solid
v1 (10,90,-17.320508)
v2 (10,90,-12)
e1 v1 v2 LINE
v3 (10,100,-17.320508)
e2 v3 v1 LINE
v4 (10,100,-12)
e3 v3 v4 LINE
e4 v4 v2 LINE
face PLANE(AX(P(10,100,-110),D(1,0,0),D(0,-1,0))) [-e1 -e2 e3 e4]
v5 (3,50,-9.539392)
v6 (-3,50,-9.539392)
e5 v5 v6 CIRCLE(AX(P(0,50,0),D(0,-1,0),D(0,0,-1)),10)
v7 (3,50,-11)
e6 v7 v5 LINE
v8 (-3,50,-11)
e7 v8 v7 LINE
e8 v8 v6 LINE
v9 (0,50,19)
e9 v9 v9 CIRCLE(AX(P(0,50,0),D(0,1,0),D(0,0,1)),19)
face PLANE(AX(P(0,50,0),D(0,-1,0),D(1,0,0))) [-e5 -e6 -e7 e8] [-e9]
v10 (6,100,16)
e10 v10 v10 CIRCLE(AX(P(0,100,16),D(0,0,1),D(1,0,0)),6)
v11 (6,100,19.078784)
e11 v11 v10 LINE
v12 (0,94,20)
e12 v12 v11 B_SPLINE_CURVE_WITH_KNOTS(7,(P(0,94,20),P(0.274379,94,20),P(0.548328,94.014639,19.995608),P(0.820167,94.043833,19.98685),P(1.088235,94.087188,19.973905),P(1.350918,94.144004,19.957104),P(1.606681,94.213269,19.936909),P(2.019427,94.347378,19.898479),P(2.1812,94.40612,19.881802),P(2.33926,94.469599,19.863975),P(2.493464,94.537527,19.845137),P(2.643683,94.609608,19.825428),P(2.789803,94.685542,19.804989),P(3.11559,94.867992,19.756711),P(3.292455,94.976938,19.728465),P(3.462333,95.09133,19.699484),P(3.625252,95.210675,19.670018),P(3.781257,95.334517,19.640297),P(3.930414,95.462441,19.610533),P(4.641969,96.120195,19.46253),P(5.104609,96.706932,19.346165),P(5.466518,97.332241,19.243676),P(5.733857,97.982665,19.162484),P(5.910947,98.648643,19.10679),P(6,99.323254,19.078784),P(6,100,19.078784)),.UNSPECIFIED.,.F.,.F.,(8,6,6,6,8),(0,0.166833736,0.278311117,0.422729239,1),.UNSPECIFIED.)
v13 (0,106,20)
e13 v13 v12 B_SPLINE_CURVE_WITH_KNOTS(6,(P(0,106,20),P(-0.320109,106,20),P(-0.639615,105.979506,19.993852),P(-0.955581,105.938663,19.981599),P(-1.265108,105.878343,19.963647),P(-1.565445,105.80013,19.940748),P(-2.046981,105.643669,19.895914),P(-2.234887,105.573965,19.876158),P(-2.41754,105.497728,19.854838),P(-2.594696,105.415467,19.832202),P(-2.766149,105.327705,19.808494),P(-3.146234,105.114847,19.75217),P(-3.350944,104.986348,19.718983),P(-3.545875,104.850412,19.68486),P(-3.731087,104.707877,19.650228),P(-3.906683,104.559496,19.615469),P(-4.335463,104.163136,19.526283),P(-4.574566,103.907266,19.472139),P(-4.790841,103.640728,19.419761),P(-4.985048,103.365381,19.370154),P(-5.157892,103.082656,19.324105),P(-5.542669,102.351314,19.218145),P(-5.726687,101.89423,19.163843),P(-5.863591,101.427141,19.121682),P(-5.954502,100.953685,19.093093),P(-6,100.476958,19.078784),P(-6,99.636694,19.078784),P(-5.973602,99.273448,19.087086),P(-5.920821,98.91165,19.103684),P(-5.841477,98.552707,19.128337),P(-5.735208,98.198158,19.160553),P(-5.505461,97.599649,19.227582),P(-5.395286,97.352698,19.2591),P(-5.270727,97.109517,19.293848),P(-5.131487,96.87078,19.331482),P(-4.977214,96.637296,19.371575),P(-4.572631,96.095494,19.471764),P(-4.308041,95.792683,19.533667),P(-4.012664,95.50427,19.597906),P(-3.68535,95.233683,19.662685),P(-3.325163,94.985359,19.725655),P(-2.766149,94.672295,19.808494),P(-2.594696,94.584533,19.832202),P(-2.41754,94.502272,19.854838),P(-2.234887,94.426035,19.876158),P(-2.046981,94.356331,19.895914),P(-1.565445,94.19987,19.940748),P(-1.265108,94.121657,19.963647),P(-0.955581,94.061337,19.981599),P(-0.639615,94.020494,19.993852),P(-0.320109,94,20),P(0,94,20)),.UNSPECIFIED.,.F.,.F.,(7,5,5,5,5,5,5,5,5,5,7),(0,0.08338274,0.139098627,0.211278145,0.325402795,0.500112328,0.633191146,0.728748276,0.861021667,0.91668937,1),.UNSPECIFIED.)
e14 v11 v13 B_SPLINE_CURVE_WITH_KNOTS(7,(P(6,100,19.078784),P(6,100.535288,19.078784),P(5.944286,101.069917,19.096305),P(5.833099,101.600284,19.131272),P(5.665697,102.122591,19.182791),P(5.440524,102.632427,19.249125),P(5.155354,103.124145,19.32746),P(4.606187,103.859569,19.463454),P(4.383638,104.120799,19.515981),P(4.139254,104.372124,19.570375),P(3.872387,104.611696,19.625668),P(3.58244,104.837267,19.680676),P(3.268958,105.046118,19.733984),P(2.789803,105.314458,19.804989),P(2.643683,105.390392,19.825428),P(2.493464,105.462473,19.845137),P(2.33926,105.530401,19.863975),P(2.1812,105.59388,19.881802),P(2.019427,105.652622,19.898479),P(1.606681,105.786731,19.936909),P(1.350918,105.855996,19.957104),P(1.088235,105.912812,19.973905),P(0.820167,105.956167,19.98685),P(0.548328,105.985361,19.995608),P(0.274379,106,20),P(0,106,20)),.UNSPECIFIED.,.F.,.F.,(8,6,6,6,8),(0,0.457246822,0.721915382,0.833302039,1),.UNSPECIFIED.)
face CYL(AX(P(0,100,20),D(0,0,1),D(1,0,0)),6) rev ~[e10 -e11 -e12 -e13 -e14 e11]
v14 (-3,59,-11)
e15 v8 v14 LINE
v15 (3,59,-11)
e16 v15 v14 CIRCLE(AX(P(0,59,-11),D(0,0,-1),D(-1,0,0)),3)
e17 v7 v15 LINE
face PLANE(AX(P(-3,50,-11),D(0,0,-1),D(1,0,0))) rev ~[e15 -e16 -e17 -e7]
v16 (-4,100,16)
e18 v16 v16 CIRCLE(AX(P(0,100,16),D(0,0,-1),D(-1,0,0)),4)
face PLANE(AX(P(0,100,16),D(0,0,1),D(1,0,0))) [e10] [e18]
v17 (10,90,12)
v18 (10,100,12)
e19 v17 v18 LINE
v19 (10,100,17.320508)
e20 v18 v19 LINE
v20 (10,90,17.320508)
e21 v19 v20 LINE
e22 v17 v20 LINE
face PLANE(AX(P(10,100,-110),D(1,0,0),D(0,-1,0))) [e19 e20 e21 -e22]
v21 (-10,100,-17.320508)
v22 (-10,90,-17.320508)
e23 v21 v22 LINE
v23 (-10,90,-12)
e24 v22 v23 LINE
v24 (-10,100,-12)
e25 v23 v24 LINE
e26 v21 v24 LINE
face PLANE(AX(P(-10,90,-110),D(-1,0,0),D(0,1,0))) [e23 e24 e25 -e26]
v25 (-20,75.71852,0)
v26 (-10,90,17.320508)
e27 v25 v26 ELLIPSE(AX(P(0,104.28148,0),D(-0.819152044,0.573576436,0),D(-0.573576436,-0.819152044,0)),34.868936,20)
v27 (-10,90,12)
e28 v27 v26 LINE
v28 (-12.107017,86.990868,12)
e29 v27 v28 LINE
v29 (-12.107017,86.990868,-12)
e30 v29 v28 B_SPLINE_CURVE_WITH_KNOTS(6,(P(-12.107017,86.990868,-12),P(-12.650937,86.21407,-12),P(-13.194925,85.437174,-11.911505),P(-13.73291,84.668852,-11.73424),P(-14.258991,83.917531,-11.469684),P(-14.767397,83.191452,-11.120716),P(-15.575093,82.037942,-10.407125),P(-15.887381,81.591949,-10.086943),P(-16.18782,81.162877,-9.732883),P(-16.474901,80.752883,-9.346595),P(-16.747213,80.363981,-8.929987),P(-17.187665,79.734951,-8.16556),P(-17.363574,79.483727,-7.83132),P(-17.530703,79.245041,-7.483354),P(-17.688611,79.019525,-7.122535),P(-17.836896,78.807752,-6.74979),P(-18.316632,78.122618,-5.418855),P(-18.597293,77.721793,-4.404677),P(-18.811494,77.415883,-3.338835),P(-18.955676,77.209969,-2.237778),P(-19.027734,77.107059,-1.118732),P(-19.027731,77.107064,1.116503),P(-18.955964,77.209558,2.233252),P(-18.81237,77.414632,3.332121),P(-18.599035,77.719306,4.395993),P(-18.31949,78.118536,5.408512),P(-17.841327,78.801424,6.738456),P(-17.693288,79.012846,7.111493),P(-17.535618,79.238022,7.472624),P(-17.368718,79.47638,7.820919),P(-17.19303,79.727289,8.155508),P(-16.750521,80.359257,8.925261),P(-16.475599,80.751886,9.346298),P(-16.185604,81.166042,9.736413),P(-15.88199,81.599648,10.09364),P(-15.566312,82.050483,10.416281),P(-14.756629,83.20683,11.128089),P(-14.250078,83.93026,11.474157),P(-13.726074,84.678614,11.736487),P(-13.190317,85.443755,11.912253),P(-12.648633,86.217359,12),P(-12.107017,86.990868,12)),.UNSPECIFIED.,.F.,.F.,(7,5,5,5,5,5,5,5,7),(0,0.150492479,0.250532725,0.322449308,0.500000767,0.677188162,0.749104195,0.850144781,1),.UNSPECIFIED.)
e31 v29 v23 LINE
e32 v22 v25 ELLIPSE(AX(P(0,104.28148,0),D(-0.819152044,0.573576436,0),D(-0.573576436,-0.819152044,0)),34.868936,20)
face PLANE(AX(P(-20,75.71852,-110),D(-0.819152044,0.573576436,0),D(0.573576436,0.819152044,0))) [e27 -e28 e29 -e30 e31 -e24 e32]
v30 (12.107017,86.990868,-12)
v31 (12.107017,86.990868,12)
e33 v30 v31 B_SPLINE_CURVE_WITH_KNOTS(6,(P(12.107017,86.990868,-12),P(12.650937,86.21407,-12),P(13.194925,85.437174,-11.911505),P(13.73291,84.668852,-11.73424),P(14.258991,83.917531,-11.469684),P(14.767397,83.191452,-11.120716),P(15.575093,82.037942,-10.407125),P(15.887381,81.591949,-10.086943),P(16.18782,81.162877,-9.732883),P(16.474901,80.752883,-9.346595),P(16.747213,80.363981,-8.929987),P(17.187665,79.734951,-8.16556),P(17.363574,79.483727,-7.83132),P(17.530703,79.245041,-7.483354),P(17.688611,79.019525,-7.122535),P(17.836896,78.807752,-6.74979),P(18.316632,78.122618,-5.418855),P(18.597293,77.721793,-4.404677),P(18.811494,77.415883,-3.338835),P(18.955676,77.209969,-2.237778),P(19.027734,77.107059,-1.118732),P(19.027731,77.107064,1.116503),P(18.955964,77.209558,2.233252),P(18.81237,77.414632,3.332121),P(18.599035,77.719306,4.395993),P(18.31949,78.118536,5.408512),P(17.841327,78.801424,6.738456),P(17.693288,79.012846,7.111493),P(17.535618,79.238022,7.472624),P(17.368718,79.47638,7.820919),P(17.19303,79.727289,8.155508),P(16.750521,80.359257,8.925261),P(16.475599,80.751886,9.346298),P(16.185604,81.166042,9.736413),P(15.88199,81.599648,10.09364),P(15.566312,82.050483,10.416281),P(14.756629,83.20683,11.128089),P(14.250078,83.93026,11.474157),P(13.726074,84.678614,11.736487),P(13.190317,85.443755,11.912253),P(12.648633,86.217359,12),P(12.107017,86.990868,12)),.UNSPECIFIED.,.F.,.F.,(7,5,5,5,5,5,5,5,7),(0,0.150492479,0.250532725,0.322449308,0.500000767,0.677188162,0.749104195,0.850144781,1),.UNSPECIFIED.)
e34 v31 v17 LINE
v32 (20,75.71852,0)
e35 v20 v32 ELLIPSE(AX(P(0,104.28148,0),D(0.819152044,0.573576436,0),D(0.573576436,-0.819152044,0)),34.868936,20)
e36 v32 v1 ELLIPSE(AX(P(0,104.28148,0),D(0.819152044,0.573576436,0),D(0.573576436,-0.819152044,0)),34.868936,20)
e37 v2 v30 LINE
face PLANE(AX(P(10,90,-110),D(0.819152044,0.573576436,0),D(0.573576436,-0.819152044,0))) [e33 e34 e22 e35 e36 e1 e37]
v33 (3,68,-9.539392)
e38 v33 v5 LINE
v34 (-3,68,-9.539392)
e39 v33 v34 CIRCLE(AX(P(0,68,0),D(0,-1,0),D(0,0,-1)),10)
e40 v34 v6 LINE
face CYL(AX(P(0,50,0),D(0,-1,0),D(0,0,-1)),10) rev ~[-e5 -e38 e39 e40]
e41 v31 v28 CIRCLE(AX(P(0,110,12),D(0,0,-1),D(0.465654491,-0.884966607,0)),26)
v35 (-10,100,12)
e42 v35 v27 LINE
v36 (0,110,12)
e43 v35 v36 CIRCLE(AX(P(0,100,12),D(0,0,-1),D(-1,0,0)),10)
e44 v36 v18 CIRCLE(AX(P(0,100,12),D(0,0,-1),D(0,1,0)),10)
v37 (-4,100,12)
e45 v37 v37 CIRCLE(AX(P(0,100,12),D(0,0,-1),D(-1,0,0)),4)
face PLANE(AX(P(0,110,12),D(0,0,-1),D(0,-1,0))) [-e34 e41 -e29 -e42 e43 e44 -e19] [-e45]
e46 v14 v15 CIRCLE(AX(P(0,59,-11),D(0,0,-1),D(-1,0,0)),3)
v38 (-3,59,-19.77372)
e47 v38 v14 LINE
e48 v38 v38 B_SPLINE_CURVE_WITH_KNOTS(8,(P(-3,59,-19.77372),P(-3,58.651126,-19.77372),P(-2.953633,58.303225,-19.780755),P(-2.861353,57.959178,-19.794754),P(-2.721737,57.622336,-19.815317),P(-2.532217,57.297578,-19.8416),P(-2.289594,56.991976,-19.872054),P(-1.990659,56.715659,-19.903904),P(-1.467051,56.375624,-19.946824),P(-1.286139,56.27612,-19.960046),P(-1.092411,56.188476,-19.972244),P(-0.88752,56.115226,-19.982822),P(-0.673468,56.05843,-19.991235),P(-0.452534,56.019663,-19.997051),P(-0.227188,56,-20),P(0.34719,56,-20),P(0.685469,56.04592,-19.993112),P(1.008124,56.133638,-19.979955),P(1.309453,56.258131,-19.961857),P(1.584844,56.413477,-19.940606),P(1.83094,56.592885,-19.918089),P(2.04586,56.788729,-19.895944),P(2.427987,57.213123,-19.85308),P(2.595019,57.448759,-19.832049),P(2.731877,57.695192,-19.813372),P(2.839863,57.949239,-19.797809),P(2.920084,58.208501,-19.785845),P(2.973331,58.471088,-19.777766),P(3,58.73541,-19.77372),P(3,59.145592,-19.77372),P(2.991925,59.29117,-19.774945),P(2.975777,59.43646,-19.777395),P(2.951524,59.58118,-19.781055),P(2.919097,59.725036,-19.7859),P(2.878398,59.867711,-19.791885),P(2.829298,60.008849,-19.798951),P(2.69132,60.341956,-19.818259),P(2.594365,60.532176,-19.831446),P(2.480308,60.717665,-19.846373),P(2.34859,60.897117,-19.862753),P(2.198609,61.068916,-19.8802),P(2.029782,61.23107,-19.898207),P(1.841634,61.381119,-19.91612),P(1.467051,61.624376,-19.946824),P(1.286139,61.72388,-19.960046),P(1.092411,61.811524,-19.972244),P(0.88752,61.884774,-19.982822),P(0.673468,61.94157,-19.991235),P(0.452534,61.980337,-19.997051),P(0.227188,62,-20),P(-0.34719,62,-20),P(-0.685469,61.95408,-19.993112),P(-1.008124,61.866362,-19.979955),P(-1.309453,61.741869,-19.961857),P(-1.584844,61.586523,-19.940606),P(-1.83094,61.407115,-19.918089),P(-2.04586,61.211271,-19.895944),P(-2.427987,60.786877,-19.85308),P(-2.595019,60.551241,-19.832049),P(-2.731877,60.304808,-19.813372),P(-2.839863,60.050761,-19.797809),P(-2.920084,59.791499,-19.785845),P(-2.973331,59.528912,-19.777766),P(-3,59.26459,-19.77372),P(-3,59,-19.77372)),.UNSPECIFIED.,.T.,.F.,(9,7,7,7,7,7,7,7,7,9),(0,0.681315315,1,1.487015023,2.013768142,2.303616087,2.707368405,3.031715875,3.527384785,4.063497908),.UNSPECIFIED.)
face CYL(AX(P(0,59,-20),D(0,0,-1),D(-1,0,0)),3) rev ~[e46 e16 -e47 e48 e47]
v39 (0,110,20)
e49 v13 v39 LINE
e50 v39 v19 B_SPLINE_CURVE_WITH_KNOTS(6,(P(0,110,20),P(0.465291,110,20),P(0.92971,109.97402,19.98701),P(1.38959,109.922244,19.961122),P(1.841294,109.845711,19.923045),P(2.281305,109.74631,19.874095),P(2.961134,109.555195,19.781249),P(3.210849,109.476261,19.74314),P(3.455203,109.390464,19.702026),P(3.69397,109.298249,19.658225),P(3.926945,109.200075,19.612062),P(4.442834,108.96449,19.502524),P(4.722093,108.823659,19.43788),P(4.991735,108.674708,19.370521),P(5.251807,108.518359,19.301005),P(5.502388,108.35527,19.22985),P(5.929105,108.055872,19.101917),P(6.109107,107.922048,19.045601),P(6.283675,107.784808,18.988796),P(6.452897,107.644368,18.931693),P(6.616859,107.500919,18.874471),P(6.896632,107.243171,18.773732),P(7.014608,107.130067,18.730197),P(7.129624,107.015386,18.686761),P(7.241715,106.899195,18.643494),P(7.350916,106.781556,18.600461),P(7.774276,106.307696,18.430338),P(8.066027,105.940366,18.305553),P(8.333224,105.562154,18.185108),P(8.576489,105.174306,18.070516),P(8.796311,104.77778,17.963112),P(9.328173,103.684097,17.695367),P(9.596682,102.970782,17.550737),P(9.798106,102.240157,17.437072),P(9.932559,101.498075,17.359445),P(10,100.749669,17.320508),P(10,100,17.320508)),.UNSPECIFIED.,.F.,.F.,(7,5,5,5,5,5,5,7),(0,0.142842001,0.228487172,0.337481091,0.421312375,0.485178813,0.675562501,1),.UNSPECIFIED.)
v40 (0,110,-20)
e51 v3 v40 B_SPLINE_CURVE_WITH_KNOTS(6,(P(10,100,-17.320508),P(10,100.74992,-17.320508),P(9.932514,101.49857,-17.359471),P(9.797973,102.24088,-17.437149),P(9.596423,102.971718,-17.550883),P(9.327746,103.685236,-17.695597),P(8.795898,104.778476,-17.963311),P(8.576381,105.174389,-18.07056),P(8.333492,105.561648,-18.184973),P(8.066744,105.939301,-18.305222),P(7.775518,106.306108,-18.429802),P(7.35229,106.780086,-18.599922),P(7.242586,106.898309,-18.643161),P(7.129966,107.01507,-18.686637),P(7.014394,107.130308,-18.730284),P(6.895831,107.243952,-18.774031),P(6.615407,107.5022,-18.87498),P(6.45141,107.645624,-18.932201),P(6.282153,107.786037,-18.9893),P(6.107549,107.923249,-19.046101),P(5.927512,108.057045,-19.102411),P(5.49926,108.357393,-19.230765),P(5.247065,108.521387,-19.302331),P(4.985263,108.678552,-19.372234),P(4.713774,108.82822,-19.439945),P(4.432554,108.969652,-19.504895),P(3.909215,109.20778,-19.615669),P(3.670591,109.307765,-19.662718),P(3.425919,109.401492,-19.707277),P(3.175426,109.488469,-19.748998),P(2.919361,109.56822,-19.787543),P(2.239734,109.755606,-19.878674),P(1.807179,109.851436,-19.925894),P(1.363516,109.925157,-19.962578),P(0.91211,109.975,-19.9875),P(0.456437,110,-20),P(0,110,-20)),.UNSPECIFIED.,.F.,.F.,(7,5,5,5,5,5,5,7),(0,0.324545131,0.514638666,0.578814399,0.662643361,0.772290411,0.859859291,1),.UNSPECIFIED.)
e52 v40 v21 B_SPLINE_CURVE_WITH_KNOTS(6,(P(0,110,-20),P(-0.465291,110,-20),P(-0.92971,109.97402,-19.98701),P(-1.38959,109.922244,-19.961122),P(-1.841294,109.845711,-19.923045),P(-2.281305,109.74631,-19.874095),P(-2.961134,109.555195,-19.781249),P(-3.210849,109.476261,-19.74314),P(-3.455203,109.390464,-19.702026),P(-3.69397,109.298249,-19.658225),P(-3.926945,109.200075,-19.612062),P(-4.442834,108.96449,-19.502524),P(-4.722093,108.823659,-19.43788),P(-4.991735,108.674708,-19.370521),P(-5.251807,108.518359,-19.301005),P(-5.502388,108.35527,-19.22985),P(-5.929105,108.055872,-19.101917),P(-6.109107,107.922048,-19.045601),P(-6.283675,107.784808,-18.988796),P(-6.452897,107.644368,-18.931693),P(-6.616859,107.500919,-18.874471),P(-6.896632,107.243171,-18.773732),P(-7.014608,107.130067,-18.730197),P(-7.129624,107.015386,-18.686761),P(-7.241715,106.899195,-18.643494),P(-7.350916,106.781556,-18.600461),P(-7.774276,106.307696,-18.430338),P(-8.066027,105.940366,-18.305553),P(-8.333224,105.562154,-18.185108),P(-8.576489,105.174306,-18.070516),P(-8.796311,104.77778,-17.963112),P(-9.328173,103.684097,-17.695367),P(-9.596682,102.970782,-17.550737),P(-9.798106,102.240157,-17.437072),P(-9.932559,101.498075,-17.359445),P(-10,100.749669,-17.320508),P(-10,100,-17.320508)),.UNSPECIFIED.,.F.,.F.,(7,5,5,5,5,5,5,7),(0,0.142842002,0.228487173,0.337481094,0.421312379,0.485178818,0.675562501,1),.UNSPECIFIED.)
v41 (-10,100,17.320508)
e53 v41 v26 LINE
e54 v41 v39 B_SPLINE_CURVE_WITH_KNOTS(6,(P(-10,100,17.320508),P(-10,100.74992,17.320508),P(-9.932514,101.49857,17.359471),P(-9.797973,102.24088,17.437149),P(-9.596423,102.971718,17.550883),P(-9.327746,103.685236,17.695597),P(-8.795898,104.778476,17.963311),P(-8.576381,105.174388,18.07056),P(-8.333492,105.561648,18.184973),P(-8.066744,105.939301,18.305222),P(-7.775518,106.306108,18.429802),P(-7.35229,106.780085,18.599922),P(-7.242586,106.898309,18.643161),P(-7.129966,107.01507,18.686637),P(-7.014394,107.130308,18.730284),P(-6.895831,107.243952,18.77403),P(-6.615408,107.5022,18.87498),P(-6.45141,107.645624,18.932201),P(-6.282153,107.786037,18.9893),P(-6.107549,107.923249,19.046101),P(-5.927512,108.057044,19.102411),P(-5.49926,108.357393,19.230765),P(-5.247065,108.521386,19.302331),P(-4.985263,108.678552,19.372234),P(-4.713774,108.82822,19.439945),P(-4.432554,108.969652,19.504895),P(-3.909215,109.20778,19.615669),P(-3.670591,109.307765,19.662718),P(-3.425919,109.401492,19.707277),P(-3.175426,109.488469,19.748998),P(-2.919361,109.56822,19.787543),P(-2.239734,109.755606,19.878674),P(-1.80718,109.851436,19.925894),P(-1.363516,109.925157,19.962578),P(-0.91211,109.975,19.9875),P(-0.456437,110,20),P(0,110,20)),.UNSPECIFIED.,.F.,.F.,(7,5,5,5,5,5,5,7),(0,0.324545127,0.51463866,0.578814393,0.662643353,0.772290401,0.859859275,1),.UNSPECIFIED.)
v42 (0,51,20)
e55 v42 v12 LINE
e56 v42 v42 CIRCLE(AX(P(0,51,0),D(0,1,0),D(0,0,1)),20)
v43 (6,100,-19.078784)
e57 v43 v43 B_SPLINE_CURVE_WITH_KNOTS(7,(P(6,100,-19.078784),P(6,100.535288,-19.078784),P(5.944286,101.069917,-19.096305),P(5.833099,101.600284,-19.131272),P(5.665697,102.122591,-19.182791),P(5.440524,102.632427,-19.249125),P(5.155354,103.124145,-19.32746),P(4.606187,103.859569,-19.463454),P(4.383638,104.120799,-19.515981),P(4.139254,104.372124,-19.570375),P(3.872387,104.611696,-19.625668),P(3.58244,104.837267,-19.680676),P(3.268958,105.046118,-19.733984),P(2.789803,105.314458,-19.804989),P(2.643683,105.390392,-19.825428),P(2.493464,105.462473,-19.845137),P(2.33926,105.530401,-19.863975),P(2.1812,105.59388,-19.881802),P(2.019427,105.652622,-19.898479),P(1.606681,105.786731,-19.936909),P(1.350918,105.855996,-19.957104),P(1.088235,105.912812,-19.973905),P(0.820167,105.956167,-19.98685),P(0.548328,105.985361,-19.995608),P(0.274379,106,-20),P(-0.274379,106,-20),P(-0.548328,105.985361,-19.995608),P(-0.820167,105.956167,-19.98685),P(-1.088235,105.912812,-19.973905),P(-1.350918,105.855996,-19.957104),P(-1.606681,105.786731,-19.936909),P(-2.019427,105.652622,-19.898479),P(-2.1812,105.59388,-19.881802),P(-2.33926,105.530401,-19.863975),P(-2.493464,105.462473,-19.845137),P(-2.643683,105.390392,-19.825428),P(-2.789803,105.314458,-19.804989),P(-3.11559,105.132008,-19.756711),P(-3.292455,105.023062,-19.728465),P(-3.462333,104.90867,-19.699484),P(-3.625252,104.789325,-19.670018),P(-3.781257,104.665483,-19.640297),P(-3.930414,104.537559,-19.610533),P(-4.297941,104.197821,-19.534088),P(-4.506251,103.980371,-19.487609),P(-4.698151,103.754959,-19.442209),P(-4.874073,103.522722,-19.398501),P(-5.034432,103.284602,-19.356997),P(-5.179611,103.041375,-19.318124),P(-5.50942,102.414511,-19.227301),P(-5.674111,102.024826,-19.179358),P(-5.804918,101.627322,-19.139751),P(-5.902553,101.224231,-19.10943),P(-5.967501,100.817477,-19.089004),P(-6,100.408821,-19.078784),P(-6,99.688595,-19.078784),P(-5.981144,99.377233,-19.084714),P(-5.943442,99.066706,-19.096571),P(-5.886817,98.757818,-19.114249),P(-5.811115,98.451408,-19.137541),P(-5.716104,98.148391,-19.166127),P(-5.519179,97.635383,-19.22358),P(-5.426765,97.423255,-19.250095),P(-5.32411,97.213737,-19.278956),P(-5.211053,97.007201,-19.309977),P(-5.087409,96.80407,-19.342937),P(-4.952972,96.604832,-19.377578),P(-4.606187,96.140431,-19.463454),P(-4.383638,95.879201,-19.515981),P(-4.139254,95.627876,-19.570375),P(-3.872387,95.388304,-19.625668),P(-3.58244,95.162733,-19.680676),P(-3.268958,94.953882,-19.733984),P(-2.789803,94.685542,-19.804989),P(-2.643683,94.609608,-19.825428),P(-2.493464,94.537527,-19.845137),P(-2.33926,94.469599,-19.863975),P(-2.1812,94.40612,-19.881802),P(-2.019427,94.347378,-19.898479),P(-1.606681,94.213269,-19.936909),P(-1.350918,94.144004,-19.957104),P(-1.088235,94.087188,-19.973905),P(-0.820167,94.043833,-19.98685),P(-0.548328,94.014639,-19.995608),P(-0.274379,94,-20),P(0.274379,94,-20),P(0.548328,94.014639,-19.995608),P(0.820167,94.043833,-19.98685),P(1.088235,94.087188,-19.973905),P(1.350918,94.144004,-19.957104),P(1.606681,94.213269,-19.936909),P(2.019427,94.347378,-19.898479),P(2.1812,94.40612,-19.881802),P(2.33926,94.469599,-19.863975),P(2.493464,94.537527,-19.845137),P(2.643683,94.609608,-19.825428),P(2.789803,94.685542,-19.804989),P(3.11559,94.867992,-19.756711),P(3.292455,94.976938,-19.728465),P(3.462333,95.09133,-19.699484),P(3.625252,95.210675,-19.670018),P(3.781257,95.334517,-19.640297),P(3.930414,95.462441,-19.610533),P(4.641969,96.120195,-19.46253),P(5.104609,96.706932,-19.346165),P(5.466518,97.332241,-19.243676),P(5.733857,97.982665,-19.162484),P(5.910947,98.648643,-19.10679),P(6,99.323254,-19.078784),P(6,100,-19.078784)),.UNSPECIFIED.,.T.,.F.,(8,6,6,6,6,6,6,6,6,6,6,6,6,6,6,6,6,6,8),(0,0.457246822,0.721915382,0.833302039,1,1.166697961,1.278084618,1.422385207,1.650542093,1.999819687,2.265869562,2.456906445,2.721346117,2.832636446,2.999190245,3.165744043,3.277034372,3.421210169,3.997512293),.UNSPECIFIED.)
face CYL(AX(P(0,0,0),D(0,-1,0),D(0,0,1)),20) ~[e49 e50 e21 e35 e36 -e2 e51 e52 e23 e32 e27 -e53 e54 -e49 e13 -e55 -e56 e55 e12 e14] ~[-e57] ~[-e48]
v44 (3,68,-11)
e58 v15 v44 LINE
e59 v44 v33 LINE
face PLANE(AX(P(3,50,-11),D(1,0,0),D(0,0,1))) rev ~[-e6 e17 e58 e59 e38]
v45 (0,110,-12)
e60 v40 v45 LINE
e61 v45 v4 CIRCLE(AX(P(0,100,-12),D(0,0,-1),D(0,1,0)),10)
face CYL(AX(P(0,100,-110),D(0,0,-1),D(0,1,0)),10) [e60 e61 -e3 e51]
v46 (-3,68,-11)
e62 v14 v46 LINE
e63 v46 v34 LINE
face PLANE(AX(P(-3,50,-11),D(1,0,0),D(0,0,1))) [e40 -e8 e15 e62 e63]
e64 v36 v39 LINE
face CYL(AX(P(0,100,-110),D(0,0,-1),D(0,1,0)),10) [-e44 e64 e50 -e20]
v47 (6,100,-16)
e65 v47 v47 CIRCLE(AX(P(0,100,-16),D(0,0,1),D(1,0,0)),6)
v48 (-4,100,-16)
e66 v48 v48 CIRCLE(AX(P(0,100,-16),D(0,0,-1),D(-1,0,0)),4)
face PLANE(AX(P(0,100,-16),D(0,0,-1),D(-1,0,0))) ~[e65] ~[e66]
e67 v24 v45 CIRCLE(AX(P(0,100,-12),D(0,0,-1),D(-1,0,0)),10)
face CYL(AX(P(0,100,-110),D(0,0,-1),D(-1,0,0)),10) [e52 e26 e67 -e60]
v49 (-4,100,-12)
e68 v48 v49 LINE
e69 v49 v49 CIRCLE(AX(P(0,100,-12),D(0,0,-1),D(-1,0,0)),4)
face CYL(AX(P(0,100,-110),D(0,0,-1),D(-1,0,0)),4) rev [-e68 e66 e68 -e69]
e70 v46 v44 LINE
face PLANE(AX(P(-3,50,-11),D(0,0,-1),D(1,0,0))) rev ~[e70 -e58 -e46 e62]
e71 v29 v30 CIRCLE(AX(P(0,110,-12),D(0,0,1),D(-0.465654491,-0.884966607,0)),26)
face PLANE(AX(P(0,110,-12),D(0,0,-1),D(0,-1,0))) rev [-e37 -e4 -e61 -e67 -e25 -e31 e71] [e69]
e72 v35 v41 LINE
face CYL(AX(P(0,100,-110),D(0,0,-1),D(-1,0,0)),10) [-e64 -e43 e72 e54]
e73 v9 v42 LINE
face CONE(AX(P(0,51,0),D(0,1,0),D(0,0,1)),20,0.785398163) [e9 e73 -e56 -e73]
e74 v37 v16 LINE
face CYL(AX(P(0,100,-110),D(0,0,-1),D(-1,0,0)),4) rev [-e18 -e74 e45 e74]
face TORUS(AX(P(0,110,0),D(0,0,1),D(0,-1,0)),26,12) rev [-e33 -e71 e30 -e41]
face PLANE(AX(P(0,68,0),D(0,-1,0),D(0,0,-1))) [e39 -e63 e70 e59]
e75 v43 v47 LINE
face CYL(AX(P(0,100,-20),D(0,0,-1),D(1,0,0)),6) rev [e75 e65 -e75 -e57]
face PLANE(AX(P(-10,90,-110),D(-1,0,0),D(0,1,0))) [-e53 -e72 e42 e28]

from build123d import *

# Parameters (mm, degrees)
CROQUIS1_R                 = 20
SALIENTE_EXTRUIR1_DEPTH    = 110
CORTAR_EXTRUIR1_DEPTH      = 110
CORTAR_EXTRUIR1_DEPTH_BACK = 110
CORTAR_EXTRUIR2_DEPTH      = 110
CORTAR_EXTRUIR2_DEPTH_BACK = 110
CROQUIS4_R                 = 4
CROQUIS5_R                 = 6
CORTAR_EXTRUIR4_DEPTH      = 4
CORTAR_EXTRUIR5_DEPTH      = 30
CORTAR_EXTRUIR5_DEPTH_BACK = 40
CROQUIS10_W                = 40
CROQUIS10_H                = 50
SALIENTE_EXTRUIR2_START    = 20
CROQUIS11_R                = 14
SALIENTE_EXTRUIR2_DEPTH    = 20
CROQUIS12_R                = 10
CORTAR_EXTRUIR6_DEPTH      = 18
CROQUIS14_W                = 6
CROQUIS14_H                = 2
CORTAR_EXTRUIR7_DEPTH      = 18
CROQUIS16_R                = 3
CORTAR_EXTRUIR8_DEPTH      = 9
CHAFL_N1_SIZE              = 1


with BuildPart() as part:
    # Croquis1 → Saliente-Extruir1 (new body)
    with BuildSketch(Plane(origin=(0, 0, 0), x_dir=(1, 0, 0), z_dir=(0, 1, 0))):
        with Locations(Location((0, 0, 0), (0, 0, 270))):
            Circle(CROQUIS1_R)
    extrude(amount=SALIENTE_EXTRUIR1_DEPTH)

    # Croquis2 → Cortar-Extruir1 (cut, two sides: drawn at the far end of the back side and taken through both)
    with BuildSketch(Plane.XY.offset(-CORTAR_EXTRUIR1_DEPTH_BACK)):
        with BuildLine():
            Line((-10, 90), (-10, 100))
            ThreePointArc((-10, 100), (-7.071067812, 107.071067812), (0, 110))
            Line((0, 110), (-20, 110))
            Line((-20, 110), (-20, 75.718519933))
            Line((-20, 75.718519933), (-10, 90))
        make_face()
        with BuildLine():
            Line((20, 110), (0, 110))
            ThreePointArc((0, 110), (7.071067812, 107.071067812), (10, 100))
            Line((10, 100), (10, 90))
            Line((10, 90), (20, 75.718519933))
            Line((20, 75.718519933), (20, 110))
        make_face()
    extrude(amount=CORTAR_EXTRUIR1_DEPTH + CORTAR_EXTRUIR1_DEPTH_BACK, mode=Mode.SUBTRACT)

    # Croquis4 → Cortar-Extruir2 (cut, two sides: drawn at the far end of the back side and taken through both)
    with BuildSketch(Plane.XY.offset(-CORTAR_EXTRUIR2_DEPTH_BACK)):
        with Locations(Location((0, 100, 0), (0, 0, 180))):
            Circle(CROQUIS4_R)
    extrude(amount=CORTAR_EXTRUIR2_DEPTH + CORTAR_EXTRUIR2_DEPTH_BACK, mode=Mode.SUBTRACT)

    # Croquis3 → Cortar-Revolución1 (revolve, cut)
    with BuildSketch(Plane(origin=(0, 0, 0), x_dir=(0, 0, -1), z_dir=(1, 0, 0))):
        with BuildLine():
            Line((-12, 110), (12, 110))
            Line((12, 110), (12, 84))
            ThreePointArc((12, 84), (0, 72), (-12, 84))
            Line((-12, 84), (-12, 110))
        make_face()
    revolve(axis=Axis((0, 110, 12), (0, 0, -1)), mode=Mode.SUBTRACT)

    # Croquis5 → Cortar-Extruir4 (cut)
    with BuildSketch(Plane.XY.offset(20)):
        with Locations((0, 100)):
            Circle(CROQUIS5_R)
    cortar_extruir4 = extrude(amount=-CORTAR_EXTRUIR4_DEPTH, mode=Mode.SUBTRACT)

    # Simetría1: Cortar-Extruir4 across plane
    add(cortar_extruir4.mirror(Plane.XY), mode=Mode.SUBTRACT)

    # Croquis6 → Cortar-Revolución2 (revolve, cut)
    with BuildSketch(Plane.XY, mode=Mode.PRIVATE) as cortar_revoluci_n2_sk:
        Polygon((-9, 0), (0, 0), (0, 70), (-14, 70), (-14, 30), (-9, 30), align=None)
    revolve(cortar_revoluci_n2_sk.sketch.rotate(Axis((0, 70, 0), (0, -1, 0)), 270), axis=Axis((0, 70, 0), (0, -1, 0)), mode=Mode.SUBTRACT)

    # Croquis10 → Cortar-Extruir5 (cut, two sides: drawn at the far end of the back side and taken through both)
    with BuildSketch(Plane.XY.offset(-CORTAR_EXTRUIR5_DEPTH_BACK)):
        with Locations((0, 25)):
            Rectangle(CROQUIS10_W, CROQUIS10_H)
    extrude(amount=CORTAR_EXTRUIR5_DEPTH + CORTAR_EXTRUIR5_DEPTH_BACK, mode=Mode.SUBTRACT)

    # Croquis11 → Saliente-Extruir2 (add)
    with BuildSketch(Plane.XZ.offset(-70).offset(SALIENTE_EXTRUIR2_START)):
        Circle(CROQUIS11_R)
    extrude(amount=-SALIENTE_EXTRUIR2_DEPTH)

    # Croquis12 → Cortar-Extruir6 (cut)
    with BuildSketch(Plane.XZ.offset(-50)):
        with Locations(Location((0, 0, 0), (0, 0, 270))):
            Circle(CROQUIS12_R)
    extrude(amount=-CORTAR_EXTRUIR6_DEPTH, mode=Mode.SUBTRACT)

    # Croquis14 → Cortar-Extruir7 (cut)
    with BuildSketch(Plane.XZ.offset(-50)):
        with Locations((0, -10)):
            Rectangle(CROQUIS14_W, CROQUIS14_H)
    extrude(amount=-CORTAR_EXTRUIR7_DEPTH, mode=Mode.SUBTRACT)

    # Croquis16 → Cortar-Extruir8 (cut)
    with BuildSketch(Plane(origin=(0, 0, -20), x_dir=(-1, 0, 0), z_dir=(0, 0, -1))):
        with Locations((0, 59)):
            Circle(CROQUIS16_R)
    extrude(amount=-CORTAR_EXTRUIR8_DEPTH, mode=Mode.SUBTRACT)

    # Chaflán1
    chafl_n1_edges = [part.edges().sort_by_distance(p)[0] for p in [
        (0, 50, -20),
    ]]
    chamfer(chafl_n1_edges, length=CHAFL_N1_SIZE)


solid = part.part
